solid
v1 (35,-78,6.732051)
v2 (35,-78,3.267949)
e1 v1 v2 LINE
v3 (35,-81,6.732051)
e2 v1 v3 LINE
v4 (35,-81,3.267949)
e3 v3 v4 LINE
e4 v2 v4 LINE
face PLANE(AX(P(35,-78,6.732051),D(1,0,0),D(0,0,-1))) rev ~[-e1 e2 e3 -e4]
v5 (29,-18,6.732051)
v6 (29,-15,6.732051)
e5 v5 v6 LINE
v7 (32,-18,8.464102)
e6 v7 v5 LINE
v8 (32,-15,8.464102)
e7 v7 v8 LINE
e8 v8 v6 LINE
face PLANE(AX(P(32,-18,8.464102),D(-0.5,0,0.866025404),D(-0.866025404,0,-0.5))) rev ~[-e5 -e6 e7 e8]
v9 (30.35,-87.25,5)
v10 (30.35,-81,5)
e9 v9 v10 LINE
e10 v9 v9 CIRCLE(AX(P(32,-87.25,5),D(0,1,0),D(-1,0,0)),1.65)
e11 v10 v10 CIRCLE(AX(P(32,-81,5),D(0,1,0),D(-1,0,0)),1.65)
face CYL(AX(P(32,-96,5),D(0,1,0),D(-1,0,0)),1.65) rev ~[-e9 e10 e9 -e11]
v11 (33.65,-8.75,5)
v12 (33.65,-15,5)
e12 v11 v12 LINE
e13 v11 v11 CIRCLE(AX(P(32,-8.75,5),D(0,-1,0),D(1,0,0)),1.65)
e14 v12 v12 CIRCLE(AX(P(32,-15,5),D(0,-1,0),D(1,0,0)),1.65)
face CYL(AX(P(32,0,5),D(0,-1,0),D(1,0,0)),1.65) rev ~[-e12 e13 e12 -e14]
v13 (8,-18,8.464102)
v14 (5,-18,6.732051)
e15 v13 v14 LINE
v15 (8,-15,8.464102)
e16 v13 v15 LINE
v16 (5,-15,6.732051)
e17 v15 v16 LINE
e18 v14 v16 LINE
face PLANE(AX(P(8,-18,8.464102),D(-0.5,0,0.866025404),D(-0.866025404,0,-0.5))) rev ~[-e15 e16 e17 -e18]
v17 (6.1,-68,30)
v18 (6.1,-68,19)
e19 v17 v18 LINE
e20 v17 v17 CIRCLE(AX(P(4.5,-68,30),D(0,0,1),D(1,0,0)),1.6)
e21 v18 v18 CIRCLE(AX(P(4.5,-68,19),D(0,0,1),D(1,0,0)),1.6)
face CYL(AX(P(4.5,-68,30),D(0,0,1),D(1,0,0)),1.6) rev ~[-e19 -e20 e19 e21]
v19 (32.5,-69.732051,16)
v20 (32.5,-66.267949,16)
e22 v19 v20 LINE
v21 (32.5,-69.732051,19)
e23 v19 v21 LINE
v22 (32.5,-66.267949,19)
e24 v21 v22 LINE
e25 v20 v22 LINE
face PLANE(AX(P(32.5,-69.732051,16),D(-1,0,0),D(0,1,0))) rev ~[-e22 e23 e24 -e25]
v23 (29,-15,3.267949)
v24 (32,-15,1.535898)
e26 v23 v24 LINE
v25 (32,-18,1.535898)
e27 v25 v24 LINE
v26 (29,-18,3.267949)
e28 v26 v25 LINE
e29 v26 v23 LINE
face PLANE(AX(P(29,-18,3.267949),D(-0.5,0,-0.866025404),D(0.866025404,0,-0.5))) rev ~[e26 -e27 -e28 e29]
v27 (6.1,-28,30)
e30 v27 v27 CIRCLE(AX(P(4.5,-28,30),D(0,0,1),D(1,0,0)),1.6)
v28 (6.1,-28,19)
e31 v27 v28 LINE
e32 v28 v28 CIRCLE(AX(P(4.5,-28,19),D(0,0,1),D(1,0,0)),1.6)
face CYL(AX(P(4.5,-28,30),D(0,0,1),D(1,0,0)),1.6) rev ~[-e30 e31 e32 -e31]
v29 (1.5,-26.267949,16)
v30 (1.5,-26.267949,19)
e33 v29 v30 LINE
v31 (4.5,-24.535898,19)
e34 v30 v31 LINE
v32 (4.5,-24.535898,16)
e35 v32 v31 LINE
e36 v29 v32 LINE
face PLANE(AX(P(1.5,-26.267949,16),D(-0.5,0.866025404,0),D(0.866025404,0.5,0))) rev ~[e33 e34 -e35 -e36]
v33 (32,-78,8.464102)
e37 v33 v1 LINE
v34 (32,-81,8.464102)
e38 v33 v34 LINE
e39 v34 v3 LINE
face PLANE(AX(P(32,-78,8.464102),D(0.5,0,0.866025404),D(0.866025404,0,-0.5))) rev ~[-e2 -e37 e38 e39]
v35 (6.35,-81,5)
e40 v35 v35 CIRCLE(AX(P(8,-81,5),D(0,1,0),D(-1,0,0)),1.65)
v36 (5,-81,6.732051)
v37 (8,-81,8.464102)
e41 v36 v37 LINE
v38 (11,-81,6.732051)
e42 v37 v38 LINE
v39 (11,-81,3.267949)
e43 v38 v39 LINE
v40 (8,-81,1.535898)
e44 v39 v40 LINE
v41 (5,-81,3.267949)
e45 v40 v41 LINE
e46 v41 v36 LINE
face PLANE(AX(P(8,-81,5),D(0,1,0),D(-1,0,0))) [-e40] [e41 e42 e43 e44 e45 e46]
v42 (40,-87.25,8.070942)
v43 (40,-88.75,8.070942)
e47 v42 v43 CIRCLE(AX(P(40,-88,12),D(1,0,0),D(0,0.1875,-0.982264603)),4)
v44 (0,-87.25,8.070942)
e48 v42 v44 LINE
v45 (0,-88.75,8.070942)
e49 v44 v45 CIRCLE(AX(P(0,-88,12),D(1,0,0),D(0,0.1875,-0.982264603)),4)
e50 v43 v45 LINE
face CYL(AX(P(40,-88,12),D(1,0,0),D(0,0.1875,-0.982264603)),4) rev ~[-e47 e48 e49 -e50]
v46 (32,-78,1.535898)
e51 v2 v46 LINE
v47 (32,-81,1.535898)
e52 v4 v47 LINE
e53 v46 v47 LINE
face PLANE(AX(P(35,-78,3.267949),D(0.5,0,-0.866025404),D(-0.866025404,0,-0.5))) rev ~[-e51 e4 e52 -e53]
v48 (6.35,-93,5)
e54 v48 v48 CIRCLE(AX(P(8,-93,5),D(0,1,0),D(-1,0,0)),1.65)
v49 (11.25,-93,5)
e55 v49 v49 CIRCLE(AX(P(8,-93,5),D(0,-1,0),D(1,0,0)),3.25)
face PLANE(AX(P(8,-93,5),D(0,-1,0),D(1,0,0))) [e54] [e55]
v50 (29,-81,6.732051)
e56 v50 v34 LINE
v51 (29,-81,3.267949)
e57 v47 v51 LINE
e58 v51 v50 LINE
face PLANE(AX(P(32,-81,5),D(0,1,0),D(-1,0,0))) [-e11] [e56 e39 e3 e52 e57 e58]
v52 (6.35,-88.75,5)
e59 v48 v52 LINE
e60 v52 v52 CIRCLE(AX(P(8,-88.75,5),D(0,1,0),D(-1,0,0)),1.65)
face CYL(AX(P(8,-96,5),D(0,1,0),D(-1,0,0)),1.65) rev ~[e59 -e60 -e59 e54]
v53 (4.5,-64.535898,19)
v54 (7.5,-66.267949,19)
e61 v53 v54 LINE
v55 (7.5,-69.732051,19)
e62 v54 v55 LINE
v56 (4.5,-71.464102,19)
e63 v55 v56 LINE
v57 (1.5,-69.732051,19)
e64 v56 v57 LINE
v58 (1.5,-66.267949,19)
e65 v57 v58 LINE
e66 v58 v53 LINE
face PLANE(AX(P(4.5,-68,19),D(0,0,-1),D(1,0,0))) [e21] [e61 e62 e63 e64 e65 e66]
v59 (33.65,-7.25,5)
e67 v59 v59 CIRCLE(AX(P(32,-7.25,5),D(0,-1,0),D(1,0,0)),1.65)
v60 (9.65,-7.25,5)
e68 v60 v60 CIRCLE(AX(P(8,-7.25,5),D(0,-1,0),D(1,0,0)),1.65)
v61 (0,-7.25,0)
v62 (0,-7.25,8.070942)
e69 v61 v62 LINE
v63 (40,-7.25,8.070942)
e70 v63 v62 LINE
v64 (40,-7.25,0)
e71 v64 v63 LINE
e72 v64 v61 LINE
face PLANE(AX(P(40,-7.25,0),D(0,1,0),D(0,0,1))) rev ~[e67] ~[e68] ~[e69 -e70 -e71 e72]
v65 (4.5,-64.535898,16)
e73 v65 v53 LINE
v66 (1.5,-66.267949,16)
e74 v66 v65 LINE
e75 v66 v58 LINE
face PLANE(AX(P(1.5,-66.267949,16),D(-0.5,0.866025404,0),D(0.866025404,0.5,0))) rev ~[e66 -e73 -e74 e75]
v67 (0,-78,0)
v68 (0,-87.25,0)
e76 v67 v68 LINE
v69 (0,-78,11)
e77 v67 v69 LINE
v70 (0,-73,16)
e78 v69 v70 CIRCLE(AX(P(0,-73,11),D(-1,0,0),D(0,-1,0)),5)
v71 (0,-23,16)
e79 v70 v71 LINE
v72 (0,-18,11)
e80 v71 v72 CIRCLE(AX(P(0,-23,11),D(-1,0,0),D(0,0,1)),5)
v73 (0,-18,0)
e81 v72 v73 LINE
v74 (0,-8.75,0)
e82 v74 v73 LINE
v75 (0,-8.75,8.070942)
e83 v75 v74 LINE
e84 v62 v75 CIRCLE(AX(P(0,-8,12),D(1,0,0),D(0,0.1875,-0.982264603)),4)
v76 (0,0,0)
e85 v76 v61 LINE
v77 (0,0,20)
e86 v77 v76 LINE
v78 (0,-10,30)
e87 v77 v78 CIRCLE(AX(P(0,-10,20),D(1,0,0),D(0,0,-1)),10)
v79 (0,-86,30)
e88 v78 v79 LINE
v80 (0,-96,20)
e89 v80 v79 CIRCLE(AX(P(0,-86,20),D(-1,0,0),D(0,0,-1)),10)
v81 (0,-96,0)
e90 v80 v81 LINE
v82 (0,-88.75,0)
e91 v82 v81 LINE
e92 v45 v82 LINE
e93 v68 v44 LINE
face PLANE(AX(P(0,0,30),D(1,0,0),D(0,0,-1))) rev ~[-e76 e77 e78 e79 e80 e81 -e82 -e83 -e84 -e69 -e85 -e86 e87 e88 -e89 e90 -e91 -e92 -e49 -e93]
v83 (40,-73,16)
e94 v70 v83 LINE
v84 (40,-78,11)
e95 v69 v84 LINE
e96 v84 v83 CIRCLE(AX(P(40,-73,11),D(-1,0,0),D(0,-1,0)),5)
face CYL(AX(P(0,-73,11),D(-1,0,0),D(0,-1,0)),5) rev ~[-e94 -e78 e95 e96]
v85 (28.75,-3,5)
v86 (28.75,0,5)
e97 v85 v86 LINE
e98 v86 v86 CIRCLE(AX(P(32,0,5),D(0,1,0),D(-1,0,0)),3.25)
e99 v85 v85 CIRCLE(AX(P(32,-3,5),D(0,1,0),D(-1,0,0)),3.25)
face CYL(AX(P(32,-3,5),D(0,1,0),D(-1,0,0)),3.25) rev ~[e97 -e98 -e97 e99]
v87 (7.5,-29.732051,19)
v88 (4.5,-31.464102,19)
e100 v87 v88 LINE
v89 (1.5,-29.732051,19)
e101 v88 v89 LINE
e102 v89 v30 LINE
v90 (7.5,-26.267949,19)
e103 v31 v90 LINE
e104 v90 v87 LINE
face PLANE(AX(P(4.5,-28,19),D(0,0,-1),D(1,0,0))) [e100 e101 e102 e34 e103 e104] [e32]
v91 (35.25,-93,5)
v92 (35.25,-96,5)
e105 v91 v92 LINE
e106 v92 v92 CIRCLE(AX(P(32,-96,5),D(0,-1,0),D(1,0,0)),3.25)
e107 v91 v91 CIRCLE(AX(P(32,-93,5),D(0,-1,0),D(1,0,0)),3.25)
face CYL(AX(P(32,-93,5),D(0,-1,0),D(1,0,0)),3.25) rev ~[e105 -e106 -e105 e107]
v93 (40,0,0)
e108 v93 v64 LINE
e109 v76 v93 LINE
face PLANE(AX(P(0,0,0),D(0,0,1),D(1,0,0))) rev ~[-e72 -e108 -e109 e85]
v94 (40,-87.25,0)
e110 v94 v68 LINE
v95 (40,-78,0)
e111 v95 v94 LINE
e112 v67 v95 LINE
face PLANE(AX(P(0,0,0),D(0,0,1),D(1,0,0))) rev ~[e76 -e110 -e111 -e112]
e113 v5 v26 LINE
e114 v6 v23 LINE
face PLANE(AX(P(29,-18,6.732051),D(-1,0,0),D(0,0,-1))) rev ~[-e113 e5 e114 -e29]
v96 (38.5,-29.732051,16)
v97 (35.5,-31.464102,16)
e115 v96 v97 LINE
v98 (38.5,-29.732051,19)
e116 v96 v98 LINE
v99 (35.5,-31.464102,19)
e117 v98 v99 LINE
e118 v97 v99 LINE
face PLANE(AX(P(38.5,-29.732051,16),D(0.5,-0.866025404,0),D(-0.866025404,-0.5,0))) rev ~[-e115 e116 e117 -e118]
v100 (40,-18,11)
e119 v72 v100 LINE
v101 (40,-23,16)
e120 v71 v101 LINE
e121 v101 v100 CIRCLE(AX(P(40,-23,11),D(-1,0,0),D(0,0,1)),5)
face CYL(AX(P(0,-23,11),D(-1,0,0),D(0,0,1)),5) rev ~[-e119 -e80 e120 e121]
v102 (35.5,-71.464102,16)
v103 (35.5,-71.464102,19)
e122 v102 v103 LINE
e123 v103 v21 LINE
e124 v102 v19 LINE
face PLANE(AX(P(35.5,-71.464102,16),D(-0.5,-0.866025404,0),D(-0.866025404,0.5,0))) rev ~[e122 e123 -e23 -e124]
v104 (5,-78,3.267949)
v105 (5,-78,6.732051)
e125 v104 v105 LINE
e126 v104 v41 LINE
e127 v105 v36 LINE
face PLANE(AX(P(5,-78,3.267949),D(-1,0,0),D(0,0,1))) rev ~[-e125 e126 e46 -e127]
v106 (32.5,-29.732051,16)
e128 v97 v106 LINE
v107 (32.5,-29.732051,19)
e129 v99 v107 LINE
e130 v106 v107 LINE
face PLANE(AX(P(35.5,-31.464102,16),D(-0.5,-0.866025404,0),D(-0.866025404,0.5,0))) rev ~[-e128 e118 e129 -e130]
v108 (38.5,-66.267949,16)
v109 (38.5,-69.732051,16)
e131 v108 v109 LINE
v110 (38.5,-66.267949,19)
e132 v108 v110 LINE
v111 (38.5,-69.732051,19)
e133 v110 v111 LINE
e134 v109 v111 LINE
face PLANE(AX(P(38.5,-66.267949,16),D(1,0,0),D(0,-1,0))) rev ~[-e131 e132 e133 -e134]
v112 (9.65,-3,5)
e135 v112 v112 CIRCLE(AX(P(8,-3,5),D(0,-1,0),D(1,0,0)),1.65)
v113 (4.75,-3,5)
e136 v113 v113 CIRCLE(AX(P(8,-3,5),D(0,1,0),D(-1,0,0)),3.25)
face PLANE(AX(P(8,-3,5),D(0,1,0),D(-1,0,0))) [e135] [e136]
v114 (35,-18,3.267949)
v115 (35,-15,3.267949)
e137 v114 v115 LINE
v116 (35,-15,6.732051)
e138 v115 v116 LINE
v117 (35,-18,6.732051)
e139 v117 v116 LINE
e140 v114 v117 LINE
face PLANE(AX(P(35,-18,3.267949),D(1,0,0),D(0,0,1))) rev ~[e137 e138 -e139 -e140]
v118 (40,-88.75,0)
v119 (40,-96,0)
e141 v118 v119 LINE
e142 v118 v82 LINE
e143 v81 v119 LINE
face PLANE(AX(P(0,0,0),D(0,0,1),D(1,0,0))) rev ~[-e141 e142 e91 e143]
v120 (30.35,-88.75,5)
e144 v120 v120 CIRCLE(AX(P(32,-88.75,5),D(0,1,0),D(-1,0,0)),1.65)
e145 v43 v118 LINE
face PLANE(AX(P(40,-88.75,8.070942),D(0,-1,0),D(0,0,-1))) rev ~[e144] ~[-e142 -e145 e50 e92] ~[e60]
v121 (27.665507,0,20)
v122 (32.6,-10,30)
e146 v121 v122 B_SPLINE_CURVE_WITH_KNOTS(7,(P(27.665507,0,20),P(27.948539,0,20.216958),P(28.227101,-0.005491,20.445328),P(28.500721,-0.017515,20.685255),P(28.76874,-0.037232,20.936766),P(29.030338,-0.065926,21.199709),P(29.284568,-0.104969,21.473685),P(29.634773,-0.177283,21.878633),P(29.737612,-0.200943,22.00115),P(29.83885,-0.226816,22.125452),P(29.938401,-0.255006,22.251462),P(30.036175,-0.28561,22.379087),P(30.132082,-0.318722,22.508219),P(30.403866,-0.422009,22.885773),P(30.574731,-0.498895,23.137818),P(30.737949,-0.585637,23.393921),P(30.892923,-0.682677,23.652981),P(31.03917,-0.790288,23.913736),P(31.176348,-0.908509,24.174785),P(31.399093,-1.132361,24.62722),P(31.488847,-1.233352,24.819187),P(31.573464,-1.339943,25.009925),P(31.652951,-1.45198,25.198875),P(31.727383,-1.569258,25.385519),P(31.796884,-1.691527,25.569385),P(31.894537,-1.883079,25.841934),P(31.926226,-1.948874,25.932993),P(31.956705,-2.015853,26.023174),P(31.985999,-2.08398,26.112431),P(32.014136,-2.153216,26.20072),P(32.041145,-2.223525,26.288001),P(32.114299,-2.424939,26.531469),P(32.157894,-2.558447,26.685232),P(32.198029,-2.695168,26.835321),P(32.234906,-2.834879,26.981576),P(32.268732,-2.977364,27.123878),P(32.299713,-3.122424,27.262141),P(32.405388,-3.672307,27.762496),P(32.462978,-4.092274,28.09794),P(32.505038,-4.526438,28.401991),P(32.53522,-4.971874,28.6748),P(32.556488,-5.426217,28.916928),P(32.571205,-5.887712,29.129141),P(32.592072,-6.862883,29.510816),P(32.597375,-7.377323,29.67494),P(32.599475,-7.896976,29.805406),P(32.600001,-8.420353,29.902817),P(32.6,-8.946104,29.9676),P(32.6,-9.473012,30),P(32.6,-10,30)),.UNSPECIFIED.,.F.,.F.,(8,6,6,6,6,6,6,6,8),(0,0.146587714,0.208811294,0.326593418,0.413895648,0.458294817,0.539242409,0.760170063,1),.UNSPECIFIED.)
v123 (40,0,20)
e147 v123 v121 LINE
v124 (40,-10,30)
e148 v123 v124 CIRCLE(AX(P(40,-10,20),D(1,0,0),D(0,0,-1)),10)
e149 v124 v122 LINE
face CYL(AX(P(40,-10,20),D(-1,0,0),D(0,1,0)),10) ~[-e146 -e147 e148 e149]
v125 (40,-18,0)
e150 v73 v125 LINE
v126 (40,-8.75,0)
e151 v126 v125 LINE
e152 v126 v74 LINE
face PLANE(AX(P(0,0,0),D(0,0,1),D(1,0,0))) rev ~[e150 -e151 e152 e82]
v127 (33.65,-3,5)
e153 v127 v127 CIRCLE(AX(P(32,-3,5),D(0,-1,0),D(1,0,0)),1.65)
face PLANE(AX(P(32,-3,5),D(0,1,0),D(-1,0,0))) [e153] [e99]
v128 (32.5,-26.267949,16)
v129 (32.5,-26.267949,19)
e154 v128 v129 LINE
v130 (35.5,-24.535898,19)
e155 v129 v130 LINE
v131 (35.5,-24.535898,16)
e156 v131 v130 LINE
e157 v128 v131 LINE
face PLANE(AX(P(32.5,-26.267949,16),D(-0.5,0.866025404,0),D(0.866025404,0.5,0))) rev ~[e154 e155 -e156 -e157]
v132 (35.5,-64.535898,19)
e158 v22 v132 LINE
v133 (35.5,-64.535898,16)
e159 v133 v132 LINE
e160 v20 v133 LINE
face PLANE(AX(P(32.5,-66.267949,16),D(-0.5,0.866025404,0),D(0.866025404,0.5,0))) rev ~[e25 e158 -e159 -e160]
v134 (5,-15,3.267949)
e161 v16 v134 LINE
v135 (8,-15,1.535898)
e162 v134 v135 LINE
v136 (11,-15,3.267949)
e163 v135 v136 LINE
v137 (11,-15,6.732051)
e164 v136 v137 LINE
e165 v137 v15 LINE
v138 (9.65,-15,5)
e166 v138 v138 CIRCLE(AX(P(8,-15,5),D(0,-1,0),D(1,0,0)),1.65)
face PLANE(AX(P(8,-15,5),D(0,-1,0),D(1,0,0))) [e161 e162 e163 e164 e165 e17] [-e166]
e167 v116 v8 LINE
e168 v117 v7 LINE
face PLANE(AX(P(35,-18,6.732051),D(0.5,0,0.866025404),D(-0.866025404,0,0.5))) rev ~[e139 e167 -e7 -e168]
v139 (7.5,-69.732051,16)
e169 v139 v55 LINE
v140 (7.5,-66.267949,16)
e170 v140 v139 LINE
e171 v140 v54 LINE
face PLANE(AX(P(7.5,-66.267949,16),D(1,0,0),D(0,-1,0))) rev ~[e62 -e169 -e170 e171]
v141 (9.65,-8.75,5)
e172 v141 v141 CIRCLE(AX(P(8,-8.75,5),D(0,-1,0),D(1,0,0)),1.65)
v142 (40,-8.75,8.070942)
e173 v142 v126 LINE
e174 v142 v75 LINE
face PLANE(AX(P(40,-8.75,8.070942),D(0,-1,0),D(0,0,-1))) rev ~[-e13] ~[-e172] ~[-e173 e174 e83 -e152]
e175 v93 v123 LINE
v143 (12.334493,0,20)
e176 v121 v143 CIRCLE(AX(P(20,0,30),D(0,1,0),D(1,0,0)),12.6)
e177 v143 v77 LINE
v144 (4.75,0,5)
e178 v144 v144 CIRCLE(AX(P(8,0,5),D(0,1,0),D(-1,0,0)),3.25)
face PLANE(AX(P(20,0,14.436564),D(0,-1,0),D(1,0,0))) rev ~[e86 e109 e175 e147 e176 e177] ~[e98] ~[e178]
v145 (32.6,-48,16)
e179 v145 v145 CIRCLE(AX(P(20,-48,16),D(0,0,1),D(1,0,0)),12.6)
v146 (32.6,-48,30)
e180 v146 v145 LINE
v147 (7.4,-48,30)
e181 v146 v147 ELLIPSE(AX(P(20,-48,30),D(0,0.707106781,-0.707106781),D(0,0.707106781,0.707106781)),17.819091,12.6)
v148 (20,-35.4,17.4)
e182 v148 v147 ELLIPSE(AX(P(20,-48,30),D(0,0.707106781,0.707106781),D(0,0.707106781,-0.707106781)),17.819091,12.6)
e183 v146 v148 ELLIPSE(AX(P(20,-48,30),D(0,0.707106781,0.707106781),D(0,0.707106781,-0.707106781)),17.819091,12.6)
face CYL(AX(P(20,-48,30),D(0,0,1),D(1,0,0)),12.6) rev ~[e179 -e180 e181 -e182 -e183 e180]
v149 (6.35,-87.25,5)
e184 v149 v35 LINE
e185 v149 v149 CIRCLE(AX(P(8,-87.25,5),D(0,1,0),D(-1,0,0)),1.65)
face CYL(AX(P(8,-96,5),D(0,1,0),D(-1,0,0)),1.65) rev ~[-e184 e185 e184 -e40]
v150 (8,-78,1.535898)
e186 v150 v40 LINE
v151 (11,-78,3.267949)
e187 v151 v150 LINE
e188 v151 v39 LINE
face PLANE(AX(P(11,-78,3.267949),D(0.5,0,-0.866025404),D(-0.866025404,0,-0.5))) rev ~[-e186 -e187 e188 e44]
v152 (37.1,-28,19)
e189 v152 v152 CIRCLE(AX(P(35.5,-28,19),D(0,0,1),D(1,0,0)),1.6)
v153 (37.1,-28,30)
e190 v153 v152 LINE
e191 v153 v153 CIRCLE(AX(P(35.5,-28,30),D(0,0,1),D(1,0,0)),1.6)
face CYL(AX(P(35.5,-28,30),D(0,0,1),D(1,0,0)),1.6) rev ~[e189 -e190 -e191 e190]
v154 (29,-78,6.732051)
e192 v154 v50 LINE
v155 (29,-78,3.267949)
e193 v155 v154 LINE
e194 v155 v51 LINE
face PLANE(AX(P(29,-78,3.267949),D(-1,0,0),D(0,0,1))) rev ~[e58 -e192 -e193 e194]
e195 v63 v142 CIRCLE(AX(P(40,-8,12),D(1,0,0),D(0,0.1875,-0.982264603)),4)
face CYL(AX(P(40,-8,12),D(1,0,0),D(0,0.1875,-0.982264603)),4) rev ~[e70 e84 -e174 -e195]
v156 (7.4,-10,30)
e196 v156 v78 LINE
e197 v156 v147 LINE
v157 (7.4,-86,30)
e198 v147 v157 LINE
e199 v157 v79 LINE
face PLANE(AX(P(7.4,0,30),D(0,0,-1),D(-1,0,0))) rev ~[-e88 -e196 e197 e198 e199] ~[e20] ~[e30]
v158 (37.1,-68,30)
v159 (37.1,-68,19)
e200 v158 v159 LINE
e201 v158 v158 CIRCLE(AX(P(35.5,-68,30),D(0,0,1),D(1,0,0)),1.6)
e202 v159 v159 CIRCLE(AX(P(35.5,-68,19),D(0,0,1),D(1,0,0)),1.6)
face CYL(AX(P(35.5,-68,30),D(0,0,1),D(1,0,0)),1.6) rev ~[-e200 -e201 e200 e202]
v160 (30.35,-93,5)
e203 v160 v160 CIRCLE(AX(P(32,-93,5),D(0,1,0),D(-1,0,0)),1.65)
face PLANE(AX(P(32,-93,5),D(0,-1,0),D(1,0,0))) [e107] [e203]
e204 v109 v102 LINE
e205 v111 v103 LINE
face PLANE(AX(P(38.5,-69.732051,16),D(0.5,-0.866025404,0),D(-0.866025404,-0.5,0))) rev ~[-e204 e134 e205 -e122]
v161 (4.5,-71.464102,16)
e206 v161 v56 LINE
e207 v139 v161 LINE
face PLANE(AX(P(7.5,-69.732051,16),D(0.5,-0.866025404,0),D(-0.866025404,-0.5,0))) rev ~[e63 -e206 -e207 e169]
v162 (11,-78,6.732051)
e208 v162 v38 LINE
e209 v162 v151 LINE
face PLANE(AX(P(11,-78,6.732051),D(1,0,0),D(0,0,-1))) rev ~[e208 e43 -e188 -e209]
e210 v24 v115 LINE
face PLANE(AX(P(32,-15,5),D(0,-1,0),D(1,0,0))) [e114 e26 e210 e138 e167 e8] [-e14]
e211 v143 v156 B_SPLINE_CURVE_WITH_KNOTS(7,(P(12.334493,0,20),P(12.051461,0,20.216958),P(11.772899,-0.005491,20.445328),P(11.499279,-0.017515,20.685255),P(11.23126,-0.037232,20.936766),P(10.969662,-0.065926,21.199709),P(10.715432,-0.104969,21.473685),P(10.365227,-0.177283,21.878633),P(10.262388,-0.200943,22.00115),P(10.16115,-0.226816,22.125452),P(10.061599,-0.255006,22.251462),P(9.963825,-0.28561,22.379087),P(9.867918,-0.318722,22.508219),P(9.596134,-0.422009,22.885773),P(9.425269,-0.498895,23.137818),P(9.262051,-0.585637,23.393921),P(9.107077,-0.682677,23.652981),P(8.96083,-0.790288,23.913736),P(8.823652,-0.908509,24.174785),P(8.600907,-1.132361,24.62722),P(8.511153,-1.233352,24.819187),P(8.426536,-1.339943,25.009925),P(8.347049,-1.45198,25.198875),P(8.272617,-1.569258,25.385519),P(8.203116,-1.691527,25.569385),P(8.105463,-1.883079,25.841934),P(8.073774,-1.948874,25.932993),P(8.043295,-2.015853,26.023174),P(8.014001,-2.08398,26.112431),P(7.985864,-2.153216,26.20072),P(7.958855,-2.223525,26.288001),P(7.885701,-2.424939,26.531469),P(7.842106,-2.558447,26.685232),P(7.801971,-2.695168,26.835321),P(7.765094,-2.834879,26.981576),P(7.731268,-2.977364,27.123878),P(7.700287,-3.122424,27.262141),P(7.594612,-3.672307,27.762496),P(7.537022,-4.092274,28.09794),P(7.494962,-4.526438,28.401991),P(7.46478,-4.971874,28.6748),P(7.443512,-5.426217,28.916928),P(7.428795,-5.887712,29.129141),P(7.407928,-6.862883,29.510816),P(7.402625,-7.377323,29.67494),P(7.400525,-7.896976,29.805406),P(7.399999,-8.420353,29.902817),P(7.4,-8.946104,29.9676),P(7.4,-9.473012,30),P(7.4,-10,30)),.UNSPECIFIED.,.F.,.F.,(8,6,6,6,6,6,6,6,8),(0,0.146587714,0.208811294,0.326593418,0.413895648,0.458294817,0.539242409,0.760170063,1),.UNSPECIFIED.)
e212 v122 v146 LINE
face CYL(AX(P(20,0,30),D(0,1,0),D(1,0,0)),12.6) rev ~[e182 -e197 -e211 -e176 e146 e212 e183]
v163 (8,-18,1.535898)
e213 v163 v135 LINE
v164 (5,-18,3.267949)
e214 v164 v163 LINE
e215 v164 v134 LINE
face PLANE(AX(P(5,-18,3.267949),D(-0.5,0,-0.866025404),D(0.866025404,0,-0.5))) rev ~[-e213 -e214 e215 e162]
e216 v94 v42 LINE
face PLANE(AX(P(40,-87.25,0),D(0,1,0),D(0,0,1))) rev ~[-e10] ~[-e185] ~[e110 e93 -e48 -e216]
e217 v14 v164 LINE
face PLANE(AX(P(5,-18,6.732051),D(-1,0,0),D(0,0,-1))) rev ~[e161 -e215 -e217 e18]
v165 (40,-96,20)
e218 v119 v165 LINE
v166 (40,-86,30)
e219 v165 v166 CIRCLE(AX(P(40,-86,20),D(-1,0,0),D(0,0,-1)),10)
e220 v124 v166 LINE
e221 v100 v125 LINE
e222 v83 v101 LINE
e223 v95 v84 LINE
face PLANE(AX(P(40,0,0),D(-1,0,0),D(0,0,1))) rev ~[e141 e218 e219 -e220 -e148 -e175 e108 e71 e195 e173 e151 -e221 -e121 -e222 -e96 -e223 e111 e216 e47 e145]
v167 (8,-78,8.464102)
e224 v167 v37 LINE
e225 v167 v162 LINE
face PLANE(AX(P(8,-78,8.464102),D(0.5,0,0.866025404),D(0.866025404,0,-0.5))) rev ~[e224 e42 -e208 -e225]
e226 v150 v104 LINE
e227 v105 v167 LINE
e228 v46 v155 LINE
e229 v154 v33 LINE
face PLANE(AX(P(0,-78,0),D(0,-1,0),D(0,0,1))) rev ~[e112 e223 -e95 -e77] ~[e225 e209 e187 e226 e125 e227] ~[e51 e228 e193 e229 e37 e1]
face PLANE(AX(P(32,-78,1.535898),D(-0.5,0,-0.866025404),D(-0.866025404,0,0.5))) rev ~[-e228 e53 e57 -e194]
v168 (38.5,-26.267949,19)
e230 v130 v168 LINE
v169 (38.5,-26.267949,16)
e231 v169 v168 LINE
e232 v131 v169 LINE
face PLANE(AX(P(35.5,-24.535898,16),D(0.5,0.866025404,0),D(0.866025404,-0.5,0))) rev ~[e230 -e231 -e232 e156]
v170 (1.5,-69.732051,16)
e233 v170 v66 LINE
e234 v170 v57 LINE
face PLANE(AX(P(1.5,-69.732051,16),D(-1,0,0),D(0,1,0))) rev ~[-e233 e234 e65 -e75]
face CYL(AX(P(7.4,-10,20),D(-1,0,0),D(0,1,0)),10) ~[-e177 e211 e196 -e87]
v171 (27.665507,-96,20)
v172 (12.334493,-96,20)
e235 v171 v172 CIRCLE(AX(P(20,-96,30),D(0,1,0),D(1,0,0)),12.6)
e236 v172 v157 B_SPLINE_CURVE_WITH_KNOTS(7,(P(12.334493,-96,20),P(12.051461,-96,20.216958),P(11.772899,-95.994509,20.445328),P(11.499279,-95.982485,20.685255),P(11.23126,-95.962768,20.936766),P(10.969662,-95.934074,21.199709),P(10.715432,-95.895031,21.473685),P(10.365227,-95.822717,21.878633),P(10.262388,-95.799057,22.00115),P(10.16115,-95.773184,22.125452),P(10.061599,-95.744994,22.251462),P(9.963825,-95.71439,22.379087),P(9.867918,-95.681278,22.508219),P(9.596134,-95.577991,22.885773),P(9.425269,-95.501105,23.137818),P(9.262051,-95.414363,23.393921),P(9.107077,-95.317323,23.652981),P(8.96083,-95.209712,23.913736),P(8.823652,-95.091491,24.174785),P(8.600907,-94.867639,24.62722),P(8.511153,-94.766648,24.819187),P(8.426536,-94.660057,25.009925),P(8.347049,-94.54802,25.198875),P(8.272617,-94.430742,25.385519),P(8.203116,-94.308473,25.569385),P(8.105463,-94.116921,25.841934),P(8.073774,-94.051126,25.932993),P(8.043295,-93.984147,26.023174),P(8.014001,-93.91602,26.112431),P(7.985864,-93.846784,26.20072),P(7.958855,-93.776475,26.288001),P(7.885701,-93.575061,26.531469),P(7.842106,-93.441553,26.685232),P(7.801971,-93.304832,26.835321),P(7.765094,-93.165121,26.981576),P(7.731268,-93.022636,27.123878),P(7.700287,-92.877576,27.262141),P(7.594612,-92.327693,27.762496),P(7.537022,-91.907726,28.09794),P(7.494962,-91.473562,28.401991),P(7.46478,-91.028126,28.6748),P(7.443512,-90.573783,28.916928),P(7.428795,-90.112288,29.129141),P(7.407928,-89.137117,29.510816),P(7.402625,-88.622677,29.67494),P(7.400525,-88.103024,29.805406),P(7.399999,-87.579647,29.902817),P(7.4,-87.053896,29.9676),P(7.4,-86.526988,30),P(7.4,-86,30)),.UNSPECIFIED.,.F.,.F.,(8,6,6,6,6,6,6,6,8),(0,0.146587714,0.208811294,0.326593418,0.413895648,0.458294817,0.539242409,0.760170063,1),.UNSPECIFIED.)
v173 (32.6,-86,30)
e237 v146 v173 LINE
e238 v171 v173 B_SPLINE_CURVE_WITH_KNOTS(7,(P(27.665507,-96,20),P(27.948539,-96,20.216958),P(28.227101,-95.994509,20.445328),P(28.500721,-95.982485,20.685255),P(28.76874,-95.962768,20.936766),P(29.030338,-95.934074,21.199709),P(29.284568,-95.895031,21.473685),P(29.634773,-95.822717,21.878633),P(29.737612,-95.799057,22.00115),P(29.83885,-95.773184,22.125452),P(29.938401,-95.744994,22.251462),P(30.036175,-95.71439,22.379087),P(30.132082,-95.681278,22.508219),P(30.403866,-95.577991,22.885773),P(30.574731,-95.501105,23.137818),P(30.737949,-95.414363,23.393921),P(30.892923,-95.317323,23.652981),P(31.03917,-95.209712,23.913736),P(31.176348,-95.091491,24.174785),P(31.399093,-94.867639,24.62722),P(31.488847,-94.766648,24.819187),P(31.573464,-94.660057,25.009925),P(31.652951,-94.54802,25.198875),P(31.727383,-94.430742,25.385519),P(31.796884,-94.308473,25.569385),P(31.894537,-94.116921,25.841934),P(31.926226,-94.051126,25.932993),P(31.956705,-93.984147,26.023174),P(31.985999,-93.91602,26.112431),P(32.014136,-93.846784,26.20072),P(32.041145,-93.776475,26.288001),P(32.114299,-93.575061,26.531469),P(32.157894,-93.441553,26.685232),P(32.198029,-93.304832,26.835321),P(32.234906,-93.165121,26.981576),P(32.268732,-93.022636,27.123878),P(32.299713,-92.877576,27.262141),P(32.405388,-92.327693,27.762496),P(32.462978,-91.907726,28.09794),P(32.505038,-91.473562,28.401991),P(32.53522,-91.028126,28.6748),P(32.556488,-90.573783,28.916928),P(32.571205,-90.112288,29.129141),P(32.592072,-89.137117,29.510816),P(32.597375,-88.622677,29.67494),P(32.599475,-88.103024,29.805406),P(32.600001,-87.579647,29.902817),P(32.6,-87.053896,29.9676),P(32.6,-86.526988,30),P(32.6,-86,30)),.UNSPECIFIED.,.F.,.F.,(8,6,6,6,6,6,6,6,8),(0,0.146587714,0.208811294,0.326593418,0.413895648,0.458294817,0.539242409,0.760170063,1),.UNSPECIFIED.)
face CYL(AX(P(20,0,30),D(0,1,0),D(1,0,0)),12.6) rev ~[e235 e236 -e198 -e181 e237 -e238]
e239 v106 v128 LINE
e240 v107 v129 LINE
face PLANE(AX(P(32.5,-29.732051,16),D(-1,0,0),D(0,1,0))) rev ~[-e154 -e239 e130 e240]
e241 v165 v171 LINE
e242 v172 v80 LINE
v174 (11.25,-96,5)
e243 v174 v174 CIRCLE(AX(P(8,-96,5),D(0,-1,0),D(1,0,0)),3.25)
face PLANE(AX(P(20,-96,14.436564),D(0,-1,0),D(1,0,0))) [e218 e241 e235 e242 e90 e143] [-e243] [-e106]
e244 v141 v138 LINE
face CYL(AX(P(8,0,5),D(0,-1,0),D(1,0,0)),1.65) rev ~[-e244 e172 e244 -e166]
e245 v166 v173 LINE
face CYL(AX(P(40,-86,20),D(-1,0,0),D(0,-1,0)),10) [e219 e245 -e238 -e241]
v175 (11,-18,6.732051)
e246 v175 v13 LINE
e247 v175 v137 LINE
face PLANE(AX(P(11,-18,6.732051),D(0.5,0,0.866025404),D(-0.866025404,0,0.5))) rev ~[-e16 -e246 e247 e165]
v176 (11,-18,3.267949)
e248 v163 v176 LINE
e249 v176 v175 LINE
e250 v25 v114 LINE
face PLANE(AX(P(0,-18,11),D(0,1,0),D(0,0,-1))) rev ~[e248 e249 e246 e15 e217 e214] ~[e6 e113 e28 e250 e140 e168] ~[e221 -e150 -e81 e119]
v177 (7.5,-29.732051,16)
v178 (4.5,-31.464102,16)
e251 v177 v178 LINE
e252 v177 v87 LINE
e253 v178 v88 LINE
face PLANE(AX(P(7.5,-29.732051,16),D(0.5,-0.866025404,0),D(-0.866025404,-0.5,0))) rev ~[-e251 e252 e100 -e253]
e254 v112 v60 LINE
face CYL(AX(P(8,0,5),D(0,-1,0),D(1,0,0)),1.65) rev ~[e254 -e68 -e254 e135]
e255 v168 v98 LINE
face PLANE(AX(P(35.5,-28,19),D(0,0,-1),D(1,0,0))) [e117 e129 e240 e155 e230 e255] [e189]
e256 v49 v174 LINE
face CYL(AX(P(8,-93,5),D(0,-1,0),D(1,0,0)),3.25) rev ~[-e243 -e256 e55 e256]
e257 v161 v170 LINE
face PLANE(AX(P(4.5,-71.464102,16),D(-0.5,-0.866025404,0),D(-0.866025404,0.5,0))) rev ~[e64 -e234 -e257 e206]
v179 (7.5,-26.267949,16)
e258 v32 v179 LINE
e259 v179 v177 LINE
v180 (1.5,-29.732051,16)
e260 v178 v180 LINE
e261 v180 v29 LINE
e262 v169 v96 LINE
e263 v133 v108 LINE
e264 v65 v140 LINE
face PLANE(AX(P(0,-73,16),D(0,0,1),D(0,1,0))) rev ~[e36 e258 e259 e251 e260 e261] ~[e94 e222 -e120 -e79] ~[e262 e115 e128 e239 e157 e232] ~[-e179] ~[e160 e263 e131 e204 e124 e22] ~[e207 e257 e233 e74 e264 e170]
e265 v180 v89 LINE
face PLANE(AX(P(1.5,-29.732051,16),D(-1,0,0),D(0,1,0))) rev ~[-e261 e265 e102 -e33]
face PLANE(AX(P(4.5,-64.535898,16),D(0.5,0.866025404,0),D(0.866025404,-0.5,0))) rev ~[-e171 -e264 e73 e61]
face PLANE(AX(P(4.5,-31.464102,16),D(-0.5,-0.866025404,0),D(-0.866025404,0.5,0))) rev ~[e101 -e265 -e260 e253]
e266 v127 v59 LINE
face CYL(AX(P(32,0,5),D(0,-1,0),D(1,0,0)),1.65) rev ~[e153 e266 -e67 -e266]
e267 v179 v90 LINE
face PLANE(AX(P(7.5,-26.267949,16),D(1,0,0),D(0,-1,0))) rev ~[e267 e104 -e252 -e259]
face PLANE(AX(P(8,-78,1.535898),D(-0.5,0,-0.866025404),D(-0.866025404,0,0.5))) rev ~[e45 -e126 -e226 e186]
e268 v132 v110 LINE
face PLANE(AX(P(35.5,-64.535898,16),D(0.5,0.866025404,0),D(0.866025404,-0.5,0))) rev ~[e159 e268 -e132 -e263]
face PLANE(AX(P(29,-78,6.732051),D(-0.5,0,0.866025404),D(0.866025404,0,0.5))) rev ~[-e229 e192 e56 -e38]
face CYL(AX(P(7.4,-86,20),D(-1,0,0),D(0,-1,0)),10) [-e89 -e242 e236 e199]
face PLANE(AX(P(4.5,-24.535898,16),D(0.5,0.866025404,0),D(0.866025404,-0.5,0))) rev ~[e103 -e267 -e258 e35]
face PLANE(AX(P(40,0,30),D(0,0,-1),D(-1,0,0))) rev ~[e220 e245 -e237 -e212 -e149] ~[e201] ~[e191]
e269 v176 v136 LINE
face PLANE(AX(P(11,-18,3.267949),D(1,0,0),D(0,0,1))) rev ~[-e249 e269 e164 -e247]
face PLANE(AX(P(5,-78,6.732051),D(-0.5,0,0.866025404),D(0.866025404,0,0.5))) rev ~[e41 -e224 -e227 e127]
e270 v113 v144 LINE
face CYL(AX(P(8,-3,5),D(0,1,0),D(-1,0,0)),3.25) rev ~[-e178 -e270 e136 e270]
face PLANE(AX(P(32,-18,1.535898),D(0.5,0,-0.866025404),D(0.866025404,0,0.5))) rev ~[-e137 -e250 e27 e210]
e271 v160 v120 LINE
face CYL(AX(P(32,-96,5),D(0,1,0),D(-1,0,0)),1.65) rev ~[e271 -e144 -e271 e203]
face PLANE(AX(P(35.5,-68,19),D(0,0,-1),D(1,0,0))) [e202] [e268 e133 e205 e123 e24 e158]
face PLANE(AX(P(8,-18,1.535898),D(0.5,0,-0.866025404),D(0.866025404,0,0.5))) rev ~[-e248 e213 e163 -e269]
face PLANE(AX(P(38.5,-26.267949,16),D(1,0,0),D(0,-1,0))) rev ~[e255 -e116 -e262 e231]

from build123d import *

# Parameters (mm, degrees)
F1_DEPTH             = 96
F3_DEPTH             = 40.001
F6_D                 = 3.3
F6_DEPTH             = 30
F6_CBORE_D           = 6.5
F6_CBORE_DEPTH       = 3
F6_TIP               = 0.9914200214
F6_ON_F4_D           = 3.3
F6_ON_F4_DEPTH       = 30
F6_ON_F4_CBORE_D     = 6.5
F6_ON_F4_CBORE_DEPTH = 3
F6_ON_F4_TIP         = 0.9914200214
F8_DEPTH             = 40.001
F10_DEPTH            = 3
F12_DEPTH            = 3
F14_DEPTH            = 3
F15_R                = 1.6
F15_R_2              = 12.6
F16_DEPTH            = 25
F17_R                = 10


with BuildPart() as f1:
    # F0 (on Front) → F1 (new body)
    with BuildSketch(Plane.XZ):
        with BuildLine():
            Line((0, 30), (0, 0))
            Line((0, 0), (40, 0))
            Line((40, 0), (40, 30))
            Line((40, 30), (32.6, 30))
            ThreePointArc((32.6, 30), (20, 17.4), (7.4, 30))
            Line((7.4, 30), (0, 30))
        make_face()
    extrude(amount=F1_DEPTH)

    # F2 (on face) → F3 (cut, through all)
    with BuildSketch(Plane.YZ.offset(40)):
        with BuildLine():
            Line((-87.25, 0), (-87.25, 8.0709415886))
            ThreePointArc((-87.25, 8.0709415886), (-88, 16), (-88.75, 8.0709415886))
            Line((-88.75, 8.0709415886), (-88.75, 0))
            Line((-88.75, 0), (-87.25, 0))
        make_face()
        with BuildLine():
            Line((-7.25, 0), (-7.25, 8.0709415886))
            ThreePointArc((-7.25, 8.0709415886), (-8, 16), (-8.75, 8.0709415886))
            Line((-8.75, 8.0709415886), (-8.75, 0))
            Line((-8.75, 0), (-7.25, 0))
        make_face()
    extrude(amount=-F3_DEPTH, mode=Mode.SUBTRACT)

    # F6
    with Locations(Plane.XZ.offset(96)):
        with Locations((8, 5), (32, 5)):
            CounterBoreHole(F6_D / 2, F6_CBORE_D / 2, F6_CBORE_DEPTH, depth=F6_DEPTH)
            with Locations((0, 0, -(F6_DEPTH + F6_TIP / 2))):  # 118° drill point
                Cone(0, F6_D / 2, F6_TIP, mode=Mode.SUBTRACT)

    # F6 on F4
    with Locations(Plane(origin=(0, 0, 0), x_dir=(-1, 0, 0), z_dir=(0, 1, 0))):
        with Locations((-8, 5), (-32, 5)):
            CounterBoreHole(F6_ON_F4_D / 2, F6_ON_F4_CBORE_D / 2, F6_ON_F4_CBORE_DEPTH, depth=F6_ON_F4_DEPTH)
            with Locations((0, 0, -(F6_ON_F4_DEPTH + F6_ON_F4_TIP / 2))):  # 118° drill point
                Cone(0, F6_ON_F4_D / 2, F6_ON_F4_TIP, mode=Mode.SUBTRACT)

    # F7 (on face) → F8 (cut, through all)
    with BuildSketch(Plane(origin=(0, 0, 0), x_dir=(0, -1, 0), z_dir=(-1, 0, 0))):
        with BuildLine():
            Line((18, 11), (18, 0))
            Line((18, 0), (78, 0))
            Line((78, 0), (78, 11))
            ThreePointArc((78, 11), (76.5355339059, 14.5355339059), (73, 16))
            Line((73, 16), (23, 16))
            ThreePointArc((23, 16), (19.4644660941, 14.5355339059), (18, 11))
        make_face()
    extrude(amount=-F8_DEPTH, mode=Mode.SUBTRACT)

    # F9 (on face) → F10 (cut)
    with BuildSketch(Plane(origin=(0, 0, 16), x_dir=(1, 0, 0), z_dir=(0, 0, -1))):
        Polygon((7.5, 66.2679491924), (7.5, 69.7320508076), (4.5, 71.4641016151), (1.5, 69.7320508076), (1.5, 66.2679491924), (4.5, 64.5358983849), align=None)
        Polygon((32.5, 69.7320508076), (32.5, 66.2679491924), (35.5, 64.5358983849), (38.5, 66.2679491924), (38.5, 69.7320508076), (35.5, 71.4641016151), align=None)
        Polygon((7.5, 26.2679491924), (7.5, 29.7320508076), (4.5, 31.4641016151), (1.5, 29.7320508076), (1.5, 26.2679491924), (4.5, 24.5358983849), align=None)
        Polygon((32.5, 29.7320508076), (32.5, 26.2679491924), (35.5, 24.5358983849), (38.5, 26.2679491924), (38.5, 29.7320508076), (35.5, 31.4641016151), align=None)
    extrude(amount=-F10_DEPTH, mode=Mode.SUBTRACT)

    # F11 (on face) → F12 (cut)
    with BuildSketch(Plane.XZ.offset(18)):
        Polygon((11, 3.2679491924), (11, 6.7320508076), (8, 8.4641016151), (5, 6.7320508076), (5, 3.2679491924), (8, 1.5358983849), align=None)
        Polygon((35, 3.2679491924), (35, 6.7320508076), (32, 8.4641016151), (29, 6.7320508076), (29, 3.2679491924), (32, 1.5358983849), align=None)
    extrude(amount=-F12_DEPTH, mode=Mode.SUBTRACT)

    # F13 (on face) → F14 (cut)
    with BuildSketch(Plane(origin=(0, -78, 0), x_dir=(-1, 0, 0), z_dir=(0, 1, 0))):
        Polygon((-35, 6.7320508076), (-35, 3.2679491924), (-32, 1.5358983849), (-29, 3.2679491924), (-29, 6.7320508076), (-32, 8.4641016151), align=None)
        Polygon((-11, 6.7320508076), (-11, 3.2679491924), (-8, 1.5358983849), (-5, 3.2679491924), (-5, 6.7320508076), (-8, 8.4641016151), align=None)
    extrude(amount=-F14_DEPTH, mode=Mode.SUBTRACT)

    # F15 (on face) → F16 (cut)
    with BuildSketch(Plane.XY.offset(30)):
        with Locations((4.5, -28)):
            Circle(F15_R)
        with Locations((35.5, -28)):
            Circle(F15_R)
        with Locations((35.5, -68)):
            Circle(F15_R)
        with Locations((4.5, -68)):
            Circle(F15_R)
        with Locations((20, -48)):
            Circle(F15_R_2)
    extrude(amount=-F16_DEPTH, mode=Mode.SUBTRACT)

    # F17
    f17_edges = [f1.edges().sort_by_distance(p)[0] for p in [
        (36.3, -96, 30),
        (3.7, -96, 30),
        (3.7, 0, 30),
        (36.3, 0, 30),
    ]]
    fillet(f17_edges, radius=F17_R)


solid = f1.part
